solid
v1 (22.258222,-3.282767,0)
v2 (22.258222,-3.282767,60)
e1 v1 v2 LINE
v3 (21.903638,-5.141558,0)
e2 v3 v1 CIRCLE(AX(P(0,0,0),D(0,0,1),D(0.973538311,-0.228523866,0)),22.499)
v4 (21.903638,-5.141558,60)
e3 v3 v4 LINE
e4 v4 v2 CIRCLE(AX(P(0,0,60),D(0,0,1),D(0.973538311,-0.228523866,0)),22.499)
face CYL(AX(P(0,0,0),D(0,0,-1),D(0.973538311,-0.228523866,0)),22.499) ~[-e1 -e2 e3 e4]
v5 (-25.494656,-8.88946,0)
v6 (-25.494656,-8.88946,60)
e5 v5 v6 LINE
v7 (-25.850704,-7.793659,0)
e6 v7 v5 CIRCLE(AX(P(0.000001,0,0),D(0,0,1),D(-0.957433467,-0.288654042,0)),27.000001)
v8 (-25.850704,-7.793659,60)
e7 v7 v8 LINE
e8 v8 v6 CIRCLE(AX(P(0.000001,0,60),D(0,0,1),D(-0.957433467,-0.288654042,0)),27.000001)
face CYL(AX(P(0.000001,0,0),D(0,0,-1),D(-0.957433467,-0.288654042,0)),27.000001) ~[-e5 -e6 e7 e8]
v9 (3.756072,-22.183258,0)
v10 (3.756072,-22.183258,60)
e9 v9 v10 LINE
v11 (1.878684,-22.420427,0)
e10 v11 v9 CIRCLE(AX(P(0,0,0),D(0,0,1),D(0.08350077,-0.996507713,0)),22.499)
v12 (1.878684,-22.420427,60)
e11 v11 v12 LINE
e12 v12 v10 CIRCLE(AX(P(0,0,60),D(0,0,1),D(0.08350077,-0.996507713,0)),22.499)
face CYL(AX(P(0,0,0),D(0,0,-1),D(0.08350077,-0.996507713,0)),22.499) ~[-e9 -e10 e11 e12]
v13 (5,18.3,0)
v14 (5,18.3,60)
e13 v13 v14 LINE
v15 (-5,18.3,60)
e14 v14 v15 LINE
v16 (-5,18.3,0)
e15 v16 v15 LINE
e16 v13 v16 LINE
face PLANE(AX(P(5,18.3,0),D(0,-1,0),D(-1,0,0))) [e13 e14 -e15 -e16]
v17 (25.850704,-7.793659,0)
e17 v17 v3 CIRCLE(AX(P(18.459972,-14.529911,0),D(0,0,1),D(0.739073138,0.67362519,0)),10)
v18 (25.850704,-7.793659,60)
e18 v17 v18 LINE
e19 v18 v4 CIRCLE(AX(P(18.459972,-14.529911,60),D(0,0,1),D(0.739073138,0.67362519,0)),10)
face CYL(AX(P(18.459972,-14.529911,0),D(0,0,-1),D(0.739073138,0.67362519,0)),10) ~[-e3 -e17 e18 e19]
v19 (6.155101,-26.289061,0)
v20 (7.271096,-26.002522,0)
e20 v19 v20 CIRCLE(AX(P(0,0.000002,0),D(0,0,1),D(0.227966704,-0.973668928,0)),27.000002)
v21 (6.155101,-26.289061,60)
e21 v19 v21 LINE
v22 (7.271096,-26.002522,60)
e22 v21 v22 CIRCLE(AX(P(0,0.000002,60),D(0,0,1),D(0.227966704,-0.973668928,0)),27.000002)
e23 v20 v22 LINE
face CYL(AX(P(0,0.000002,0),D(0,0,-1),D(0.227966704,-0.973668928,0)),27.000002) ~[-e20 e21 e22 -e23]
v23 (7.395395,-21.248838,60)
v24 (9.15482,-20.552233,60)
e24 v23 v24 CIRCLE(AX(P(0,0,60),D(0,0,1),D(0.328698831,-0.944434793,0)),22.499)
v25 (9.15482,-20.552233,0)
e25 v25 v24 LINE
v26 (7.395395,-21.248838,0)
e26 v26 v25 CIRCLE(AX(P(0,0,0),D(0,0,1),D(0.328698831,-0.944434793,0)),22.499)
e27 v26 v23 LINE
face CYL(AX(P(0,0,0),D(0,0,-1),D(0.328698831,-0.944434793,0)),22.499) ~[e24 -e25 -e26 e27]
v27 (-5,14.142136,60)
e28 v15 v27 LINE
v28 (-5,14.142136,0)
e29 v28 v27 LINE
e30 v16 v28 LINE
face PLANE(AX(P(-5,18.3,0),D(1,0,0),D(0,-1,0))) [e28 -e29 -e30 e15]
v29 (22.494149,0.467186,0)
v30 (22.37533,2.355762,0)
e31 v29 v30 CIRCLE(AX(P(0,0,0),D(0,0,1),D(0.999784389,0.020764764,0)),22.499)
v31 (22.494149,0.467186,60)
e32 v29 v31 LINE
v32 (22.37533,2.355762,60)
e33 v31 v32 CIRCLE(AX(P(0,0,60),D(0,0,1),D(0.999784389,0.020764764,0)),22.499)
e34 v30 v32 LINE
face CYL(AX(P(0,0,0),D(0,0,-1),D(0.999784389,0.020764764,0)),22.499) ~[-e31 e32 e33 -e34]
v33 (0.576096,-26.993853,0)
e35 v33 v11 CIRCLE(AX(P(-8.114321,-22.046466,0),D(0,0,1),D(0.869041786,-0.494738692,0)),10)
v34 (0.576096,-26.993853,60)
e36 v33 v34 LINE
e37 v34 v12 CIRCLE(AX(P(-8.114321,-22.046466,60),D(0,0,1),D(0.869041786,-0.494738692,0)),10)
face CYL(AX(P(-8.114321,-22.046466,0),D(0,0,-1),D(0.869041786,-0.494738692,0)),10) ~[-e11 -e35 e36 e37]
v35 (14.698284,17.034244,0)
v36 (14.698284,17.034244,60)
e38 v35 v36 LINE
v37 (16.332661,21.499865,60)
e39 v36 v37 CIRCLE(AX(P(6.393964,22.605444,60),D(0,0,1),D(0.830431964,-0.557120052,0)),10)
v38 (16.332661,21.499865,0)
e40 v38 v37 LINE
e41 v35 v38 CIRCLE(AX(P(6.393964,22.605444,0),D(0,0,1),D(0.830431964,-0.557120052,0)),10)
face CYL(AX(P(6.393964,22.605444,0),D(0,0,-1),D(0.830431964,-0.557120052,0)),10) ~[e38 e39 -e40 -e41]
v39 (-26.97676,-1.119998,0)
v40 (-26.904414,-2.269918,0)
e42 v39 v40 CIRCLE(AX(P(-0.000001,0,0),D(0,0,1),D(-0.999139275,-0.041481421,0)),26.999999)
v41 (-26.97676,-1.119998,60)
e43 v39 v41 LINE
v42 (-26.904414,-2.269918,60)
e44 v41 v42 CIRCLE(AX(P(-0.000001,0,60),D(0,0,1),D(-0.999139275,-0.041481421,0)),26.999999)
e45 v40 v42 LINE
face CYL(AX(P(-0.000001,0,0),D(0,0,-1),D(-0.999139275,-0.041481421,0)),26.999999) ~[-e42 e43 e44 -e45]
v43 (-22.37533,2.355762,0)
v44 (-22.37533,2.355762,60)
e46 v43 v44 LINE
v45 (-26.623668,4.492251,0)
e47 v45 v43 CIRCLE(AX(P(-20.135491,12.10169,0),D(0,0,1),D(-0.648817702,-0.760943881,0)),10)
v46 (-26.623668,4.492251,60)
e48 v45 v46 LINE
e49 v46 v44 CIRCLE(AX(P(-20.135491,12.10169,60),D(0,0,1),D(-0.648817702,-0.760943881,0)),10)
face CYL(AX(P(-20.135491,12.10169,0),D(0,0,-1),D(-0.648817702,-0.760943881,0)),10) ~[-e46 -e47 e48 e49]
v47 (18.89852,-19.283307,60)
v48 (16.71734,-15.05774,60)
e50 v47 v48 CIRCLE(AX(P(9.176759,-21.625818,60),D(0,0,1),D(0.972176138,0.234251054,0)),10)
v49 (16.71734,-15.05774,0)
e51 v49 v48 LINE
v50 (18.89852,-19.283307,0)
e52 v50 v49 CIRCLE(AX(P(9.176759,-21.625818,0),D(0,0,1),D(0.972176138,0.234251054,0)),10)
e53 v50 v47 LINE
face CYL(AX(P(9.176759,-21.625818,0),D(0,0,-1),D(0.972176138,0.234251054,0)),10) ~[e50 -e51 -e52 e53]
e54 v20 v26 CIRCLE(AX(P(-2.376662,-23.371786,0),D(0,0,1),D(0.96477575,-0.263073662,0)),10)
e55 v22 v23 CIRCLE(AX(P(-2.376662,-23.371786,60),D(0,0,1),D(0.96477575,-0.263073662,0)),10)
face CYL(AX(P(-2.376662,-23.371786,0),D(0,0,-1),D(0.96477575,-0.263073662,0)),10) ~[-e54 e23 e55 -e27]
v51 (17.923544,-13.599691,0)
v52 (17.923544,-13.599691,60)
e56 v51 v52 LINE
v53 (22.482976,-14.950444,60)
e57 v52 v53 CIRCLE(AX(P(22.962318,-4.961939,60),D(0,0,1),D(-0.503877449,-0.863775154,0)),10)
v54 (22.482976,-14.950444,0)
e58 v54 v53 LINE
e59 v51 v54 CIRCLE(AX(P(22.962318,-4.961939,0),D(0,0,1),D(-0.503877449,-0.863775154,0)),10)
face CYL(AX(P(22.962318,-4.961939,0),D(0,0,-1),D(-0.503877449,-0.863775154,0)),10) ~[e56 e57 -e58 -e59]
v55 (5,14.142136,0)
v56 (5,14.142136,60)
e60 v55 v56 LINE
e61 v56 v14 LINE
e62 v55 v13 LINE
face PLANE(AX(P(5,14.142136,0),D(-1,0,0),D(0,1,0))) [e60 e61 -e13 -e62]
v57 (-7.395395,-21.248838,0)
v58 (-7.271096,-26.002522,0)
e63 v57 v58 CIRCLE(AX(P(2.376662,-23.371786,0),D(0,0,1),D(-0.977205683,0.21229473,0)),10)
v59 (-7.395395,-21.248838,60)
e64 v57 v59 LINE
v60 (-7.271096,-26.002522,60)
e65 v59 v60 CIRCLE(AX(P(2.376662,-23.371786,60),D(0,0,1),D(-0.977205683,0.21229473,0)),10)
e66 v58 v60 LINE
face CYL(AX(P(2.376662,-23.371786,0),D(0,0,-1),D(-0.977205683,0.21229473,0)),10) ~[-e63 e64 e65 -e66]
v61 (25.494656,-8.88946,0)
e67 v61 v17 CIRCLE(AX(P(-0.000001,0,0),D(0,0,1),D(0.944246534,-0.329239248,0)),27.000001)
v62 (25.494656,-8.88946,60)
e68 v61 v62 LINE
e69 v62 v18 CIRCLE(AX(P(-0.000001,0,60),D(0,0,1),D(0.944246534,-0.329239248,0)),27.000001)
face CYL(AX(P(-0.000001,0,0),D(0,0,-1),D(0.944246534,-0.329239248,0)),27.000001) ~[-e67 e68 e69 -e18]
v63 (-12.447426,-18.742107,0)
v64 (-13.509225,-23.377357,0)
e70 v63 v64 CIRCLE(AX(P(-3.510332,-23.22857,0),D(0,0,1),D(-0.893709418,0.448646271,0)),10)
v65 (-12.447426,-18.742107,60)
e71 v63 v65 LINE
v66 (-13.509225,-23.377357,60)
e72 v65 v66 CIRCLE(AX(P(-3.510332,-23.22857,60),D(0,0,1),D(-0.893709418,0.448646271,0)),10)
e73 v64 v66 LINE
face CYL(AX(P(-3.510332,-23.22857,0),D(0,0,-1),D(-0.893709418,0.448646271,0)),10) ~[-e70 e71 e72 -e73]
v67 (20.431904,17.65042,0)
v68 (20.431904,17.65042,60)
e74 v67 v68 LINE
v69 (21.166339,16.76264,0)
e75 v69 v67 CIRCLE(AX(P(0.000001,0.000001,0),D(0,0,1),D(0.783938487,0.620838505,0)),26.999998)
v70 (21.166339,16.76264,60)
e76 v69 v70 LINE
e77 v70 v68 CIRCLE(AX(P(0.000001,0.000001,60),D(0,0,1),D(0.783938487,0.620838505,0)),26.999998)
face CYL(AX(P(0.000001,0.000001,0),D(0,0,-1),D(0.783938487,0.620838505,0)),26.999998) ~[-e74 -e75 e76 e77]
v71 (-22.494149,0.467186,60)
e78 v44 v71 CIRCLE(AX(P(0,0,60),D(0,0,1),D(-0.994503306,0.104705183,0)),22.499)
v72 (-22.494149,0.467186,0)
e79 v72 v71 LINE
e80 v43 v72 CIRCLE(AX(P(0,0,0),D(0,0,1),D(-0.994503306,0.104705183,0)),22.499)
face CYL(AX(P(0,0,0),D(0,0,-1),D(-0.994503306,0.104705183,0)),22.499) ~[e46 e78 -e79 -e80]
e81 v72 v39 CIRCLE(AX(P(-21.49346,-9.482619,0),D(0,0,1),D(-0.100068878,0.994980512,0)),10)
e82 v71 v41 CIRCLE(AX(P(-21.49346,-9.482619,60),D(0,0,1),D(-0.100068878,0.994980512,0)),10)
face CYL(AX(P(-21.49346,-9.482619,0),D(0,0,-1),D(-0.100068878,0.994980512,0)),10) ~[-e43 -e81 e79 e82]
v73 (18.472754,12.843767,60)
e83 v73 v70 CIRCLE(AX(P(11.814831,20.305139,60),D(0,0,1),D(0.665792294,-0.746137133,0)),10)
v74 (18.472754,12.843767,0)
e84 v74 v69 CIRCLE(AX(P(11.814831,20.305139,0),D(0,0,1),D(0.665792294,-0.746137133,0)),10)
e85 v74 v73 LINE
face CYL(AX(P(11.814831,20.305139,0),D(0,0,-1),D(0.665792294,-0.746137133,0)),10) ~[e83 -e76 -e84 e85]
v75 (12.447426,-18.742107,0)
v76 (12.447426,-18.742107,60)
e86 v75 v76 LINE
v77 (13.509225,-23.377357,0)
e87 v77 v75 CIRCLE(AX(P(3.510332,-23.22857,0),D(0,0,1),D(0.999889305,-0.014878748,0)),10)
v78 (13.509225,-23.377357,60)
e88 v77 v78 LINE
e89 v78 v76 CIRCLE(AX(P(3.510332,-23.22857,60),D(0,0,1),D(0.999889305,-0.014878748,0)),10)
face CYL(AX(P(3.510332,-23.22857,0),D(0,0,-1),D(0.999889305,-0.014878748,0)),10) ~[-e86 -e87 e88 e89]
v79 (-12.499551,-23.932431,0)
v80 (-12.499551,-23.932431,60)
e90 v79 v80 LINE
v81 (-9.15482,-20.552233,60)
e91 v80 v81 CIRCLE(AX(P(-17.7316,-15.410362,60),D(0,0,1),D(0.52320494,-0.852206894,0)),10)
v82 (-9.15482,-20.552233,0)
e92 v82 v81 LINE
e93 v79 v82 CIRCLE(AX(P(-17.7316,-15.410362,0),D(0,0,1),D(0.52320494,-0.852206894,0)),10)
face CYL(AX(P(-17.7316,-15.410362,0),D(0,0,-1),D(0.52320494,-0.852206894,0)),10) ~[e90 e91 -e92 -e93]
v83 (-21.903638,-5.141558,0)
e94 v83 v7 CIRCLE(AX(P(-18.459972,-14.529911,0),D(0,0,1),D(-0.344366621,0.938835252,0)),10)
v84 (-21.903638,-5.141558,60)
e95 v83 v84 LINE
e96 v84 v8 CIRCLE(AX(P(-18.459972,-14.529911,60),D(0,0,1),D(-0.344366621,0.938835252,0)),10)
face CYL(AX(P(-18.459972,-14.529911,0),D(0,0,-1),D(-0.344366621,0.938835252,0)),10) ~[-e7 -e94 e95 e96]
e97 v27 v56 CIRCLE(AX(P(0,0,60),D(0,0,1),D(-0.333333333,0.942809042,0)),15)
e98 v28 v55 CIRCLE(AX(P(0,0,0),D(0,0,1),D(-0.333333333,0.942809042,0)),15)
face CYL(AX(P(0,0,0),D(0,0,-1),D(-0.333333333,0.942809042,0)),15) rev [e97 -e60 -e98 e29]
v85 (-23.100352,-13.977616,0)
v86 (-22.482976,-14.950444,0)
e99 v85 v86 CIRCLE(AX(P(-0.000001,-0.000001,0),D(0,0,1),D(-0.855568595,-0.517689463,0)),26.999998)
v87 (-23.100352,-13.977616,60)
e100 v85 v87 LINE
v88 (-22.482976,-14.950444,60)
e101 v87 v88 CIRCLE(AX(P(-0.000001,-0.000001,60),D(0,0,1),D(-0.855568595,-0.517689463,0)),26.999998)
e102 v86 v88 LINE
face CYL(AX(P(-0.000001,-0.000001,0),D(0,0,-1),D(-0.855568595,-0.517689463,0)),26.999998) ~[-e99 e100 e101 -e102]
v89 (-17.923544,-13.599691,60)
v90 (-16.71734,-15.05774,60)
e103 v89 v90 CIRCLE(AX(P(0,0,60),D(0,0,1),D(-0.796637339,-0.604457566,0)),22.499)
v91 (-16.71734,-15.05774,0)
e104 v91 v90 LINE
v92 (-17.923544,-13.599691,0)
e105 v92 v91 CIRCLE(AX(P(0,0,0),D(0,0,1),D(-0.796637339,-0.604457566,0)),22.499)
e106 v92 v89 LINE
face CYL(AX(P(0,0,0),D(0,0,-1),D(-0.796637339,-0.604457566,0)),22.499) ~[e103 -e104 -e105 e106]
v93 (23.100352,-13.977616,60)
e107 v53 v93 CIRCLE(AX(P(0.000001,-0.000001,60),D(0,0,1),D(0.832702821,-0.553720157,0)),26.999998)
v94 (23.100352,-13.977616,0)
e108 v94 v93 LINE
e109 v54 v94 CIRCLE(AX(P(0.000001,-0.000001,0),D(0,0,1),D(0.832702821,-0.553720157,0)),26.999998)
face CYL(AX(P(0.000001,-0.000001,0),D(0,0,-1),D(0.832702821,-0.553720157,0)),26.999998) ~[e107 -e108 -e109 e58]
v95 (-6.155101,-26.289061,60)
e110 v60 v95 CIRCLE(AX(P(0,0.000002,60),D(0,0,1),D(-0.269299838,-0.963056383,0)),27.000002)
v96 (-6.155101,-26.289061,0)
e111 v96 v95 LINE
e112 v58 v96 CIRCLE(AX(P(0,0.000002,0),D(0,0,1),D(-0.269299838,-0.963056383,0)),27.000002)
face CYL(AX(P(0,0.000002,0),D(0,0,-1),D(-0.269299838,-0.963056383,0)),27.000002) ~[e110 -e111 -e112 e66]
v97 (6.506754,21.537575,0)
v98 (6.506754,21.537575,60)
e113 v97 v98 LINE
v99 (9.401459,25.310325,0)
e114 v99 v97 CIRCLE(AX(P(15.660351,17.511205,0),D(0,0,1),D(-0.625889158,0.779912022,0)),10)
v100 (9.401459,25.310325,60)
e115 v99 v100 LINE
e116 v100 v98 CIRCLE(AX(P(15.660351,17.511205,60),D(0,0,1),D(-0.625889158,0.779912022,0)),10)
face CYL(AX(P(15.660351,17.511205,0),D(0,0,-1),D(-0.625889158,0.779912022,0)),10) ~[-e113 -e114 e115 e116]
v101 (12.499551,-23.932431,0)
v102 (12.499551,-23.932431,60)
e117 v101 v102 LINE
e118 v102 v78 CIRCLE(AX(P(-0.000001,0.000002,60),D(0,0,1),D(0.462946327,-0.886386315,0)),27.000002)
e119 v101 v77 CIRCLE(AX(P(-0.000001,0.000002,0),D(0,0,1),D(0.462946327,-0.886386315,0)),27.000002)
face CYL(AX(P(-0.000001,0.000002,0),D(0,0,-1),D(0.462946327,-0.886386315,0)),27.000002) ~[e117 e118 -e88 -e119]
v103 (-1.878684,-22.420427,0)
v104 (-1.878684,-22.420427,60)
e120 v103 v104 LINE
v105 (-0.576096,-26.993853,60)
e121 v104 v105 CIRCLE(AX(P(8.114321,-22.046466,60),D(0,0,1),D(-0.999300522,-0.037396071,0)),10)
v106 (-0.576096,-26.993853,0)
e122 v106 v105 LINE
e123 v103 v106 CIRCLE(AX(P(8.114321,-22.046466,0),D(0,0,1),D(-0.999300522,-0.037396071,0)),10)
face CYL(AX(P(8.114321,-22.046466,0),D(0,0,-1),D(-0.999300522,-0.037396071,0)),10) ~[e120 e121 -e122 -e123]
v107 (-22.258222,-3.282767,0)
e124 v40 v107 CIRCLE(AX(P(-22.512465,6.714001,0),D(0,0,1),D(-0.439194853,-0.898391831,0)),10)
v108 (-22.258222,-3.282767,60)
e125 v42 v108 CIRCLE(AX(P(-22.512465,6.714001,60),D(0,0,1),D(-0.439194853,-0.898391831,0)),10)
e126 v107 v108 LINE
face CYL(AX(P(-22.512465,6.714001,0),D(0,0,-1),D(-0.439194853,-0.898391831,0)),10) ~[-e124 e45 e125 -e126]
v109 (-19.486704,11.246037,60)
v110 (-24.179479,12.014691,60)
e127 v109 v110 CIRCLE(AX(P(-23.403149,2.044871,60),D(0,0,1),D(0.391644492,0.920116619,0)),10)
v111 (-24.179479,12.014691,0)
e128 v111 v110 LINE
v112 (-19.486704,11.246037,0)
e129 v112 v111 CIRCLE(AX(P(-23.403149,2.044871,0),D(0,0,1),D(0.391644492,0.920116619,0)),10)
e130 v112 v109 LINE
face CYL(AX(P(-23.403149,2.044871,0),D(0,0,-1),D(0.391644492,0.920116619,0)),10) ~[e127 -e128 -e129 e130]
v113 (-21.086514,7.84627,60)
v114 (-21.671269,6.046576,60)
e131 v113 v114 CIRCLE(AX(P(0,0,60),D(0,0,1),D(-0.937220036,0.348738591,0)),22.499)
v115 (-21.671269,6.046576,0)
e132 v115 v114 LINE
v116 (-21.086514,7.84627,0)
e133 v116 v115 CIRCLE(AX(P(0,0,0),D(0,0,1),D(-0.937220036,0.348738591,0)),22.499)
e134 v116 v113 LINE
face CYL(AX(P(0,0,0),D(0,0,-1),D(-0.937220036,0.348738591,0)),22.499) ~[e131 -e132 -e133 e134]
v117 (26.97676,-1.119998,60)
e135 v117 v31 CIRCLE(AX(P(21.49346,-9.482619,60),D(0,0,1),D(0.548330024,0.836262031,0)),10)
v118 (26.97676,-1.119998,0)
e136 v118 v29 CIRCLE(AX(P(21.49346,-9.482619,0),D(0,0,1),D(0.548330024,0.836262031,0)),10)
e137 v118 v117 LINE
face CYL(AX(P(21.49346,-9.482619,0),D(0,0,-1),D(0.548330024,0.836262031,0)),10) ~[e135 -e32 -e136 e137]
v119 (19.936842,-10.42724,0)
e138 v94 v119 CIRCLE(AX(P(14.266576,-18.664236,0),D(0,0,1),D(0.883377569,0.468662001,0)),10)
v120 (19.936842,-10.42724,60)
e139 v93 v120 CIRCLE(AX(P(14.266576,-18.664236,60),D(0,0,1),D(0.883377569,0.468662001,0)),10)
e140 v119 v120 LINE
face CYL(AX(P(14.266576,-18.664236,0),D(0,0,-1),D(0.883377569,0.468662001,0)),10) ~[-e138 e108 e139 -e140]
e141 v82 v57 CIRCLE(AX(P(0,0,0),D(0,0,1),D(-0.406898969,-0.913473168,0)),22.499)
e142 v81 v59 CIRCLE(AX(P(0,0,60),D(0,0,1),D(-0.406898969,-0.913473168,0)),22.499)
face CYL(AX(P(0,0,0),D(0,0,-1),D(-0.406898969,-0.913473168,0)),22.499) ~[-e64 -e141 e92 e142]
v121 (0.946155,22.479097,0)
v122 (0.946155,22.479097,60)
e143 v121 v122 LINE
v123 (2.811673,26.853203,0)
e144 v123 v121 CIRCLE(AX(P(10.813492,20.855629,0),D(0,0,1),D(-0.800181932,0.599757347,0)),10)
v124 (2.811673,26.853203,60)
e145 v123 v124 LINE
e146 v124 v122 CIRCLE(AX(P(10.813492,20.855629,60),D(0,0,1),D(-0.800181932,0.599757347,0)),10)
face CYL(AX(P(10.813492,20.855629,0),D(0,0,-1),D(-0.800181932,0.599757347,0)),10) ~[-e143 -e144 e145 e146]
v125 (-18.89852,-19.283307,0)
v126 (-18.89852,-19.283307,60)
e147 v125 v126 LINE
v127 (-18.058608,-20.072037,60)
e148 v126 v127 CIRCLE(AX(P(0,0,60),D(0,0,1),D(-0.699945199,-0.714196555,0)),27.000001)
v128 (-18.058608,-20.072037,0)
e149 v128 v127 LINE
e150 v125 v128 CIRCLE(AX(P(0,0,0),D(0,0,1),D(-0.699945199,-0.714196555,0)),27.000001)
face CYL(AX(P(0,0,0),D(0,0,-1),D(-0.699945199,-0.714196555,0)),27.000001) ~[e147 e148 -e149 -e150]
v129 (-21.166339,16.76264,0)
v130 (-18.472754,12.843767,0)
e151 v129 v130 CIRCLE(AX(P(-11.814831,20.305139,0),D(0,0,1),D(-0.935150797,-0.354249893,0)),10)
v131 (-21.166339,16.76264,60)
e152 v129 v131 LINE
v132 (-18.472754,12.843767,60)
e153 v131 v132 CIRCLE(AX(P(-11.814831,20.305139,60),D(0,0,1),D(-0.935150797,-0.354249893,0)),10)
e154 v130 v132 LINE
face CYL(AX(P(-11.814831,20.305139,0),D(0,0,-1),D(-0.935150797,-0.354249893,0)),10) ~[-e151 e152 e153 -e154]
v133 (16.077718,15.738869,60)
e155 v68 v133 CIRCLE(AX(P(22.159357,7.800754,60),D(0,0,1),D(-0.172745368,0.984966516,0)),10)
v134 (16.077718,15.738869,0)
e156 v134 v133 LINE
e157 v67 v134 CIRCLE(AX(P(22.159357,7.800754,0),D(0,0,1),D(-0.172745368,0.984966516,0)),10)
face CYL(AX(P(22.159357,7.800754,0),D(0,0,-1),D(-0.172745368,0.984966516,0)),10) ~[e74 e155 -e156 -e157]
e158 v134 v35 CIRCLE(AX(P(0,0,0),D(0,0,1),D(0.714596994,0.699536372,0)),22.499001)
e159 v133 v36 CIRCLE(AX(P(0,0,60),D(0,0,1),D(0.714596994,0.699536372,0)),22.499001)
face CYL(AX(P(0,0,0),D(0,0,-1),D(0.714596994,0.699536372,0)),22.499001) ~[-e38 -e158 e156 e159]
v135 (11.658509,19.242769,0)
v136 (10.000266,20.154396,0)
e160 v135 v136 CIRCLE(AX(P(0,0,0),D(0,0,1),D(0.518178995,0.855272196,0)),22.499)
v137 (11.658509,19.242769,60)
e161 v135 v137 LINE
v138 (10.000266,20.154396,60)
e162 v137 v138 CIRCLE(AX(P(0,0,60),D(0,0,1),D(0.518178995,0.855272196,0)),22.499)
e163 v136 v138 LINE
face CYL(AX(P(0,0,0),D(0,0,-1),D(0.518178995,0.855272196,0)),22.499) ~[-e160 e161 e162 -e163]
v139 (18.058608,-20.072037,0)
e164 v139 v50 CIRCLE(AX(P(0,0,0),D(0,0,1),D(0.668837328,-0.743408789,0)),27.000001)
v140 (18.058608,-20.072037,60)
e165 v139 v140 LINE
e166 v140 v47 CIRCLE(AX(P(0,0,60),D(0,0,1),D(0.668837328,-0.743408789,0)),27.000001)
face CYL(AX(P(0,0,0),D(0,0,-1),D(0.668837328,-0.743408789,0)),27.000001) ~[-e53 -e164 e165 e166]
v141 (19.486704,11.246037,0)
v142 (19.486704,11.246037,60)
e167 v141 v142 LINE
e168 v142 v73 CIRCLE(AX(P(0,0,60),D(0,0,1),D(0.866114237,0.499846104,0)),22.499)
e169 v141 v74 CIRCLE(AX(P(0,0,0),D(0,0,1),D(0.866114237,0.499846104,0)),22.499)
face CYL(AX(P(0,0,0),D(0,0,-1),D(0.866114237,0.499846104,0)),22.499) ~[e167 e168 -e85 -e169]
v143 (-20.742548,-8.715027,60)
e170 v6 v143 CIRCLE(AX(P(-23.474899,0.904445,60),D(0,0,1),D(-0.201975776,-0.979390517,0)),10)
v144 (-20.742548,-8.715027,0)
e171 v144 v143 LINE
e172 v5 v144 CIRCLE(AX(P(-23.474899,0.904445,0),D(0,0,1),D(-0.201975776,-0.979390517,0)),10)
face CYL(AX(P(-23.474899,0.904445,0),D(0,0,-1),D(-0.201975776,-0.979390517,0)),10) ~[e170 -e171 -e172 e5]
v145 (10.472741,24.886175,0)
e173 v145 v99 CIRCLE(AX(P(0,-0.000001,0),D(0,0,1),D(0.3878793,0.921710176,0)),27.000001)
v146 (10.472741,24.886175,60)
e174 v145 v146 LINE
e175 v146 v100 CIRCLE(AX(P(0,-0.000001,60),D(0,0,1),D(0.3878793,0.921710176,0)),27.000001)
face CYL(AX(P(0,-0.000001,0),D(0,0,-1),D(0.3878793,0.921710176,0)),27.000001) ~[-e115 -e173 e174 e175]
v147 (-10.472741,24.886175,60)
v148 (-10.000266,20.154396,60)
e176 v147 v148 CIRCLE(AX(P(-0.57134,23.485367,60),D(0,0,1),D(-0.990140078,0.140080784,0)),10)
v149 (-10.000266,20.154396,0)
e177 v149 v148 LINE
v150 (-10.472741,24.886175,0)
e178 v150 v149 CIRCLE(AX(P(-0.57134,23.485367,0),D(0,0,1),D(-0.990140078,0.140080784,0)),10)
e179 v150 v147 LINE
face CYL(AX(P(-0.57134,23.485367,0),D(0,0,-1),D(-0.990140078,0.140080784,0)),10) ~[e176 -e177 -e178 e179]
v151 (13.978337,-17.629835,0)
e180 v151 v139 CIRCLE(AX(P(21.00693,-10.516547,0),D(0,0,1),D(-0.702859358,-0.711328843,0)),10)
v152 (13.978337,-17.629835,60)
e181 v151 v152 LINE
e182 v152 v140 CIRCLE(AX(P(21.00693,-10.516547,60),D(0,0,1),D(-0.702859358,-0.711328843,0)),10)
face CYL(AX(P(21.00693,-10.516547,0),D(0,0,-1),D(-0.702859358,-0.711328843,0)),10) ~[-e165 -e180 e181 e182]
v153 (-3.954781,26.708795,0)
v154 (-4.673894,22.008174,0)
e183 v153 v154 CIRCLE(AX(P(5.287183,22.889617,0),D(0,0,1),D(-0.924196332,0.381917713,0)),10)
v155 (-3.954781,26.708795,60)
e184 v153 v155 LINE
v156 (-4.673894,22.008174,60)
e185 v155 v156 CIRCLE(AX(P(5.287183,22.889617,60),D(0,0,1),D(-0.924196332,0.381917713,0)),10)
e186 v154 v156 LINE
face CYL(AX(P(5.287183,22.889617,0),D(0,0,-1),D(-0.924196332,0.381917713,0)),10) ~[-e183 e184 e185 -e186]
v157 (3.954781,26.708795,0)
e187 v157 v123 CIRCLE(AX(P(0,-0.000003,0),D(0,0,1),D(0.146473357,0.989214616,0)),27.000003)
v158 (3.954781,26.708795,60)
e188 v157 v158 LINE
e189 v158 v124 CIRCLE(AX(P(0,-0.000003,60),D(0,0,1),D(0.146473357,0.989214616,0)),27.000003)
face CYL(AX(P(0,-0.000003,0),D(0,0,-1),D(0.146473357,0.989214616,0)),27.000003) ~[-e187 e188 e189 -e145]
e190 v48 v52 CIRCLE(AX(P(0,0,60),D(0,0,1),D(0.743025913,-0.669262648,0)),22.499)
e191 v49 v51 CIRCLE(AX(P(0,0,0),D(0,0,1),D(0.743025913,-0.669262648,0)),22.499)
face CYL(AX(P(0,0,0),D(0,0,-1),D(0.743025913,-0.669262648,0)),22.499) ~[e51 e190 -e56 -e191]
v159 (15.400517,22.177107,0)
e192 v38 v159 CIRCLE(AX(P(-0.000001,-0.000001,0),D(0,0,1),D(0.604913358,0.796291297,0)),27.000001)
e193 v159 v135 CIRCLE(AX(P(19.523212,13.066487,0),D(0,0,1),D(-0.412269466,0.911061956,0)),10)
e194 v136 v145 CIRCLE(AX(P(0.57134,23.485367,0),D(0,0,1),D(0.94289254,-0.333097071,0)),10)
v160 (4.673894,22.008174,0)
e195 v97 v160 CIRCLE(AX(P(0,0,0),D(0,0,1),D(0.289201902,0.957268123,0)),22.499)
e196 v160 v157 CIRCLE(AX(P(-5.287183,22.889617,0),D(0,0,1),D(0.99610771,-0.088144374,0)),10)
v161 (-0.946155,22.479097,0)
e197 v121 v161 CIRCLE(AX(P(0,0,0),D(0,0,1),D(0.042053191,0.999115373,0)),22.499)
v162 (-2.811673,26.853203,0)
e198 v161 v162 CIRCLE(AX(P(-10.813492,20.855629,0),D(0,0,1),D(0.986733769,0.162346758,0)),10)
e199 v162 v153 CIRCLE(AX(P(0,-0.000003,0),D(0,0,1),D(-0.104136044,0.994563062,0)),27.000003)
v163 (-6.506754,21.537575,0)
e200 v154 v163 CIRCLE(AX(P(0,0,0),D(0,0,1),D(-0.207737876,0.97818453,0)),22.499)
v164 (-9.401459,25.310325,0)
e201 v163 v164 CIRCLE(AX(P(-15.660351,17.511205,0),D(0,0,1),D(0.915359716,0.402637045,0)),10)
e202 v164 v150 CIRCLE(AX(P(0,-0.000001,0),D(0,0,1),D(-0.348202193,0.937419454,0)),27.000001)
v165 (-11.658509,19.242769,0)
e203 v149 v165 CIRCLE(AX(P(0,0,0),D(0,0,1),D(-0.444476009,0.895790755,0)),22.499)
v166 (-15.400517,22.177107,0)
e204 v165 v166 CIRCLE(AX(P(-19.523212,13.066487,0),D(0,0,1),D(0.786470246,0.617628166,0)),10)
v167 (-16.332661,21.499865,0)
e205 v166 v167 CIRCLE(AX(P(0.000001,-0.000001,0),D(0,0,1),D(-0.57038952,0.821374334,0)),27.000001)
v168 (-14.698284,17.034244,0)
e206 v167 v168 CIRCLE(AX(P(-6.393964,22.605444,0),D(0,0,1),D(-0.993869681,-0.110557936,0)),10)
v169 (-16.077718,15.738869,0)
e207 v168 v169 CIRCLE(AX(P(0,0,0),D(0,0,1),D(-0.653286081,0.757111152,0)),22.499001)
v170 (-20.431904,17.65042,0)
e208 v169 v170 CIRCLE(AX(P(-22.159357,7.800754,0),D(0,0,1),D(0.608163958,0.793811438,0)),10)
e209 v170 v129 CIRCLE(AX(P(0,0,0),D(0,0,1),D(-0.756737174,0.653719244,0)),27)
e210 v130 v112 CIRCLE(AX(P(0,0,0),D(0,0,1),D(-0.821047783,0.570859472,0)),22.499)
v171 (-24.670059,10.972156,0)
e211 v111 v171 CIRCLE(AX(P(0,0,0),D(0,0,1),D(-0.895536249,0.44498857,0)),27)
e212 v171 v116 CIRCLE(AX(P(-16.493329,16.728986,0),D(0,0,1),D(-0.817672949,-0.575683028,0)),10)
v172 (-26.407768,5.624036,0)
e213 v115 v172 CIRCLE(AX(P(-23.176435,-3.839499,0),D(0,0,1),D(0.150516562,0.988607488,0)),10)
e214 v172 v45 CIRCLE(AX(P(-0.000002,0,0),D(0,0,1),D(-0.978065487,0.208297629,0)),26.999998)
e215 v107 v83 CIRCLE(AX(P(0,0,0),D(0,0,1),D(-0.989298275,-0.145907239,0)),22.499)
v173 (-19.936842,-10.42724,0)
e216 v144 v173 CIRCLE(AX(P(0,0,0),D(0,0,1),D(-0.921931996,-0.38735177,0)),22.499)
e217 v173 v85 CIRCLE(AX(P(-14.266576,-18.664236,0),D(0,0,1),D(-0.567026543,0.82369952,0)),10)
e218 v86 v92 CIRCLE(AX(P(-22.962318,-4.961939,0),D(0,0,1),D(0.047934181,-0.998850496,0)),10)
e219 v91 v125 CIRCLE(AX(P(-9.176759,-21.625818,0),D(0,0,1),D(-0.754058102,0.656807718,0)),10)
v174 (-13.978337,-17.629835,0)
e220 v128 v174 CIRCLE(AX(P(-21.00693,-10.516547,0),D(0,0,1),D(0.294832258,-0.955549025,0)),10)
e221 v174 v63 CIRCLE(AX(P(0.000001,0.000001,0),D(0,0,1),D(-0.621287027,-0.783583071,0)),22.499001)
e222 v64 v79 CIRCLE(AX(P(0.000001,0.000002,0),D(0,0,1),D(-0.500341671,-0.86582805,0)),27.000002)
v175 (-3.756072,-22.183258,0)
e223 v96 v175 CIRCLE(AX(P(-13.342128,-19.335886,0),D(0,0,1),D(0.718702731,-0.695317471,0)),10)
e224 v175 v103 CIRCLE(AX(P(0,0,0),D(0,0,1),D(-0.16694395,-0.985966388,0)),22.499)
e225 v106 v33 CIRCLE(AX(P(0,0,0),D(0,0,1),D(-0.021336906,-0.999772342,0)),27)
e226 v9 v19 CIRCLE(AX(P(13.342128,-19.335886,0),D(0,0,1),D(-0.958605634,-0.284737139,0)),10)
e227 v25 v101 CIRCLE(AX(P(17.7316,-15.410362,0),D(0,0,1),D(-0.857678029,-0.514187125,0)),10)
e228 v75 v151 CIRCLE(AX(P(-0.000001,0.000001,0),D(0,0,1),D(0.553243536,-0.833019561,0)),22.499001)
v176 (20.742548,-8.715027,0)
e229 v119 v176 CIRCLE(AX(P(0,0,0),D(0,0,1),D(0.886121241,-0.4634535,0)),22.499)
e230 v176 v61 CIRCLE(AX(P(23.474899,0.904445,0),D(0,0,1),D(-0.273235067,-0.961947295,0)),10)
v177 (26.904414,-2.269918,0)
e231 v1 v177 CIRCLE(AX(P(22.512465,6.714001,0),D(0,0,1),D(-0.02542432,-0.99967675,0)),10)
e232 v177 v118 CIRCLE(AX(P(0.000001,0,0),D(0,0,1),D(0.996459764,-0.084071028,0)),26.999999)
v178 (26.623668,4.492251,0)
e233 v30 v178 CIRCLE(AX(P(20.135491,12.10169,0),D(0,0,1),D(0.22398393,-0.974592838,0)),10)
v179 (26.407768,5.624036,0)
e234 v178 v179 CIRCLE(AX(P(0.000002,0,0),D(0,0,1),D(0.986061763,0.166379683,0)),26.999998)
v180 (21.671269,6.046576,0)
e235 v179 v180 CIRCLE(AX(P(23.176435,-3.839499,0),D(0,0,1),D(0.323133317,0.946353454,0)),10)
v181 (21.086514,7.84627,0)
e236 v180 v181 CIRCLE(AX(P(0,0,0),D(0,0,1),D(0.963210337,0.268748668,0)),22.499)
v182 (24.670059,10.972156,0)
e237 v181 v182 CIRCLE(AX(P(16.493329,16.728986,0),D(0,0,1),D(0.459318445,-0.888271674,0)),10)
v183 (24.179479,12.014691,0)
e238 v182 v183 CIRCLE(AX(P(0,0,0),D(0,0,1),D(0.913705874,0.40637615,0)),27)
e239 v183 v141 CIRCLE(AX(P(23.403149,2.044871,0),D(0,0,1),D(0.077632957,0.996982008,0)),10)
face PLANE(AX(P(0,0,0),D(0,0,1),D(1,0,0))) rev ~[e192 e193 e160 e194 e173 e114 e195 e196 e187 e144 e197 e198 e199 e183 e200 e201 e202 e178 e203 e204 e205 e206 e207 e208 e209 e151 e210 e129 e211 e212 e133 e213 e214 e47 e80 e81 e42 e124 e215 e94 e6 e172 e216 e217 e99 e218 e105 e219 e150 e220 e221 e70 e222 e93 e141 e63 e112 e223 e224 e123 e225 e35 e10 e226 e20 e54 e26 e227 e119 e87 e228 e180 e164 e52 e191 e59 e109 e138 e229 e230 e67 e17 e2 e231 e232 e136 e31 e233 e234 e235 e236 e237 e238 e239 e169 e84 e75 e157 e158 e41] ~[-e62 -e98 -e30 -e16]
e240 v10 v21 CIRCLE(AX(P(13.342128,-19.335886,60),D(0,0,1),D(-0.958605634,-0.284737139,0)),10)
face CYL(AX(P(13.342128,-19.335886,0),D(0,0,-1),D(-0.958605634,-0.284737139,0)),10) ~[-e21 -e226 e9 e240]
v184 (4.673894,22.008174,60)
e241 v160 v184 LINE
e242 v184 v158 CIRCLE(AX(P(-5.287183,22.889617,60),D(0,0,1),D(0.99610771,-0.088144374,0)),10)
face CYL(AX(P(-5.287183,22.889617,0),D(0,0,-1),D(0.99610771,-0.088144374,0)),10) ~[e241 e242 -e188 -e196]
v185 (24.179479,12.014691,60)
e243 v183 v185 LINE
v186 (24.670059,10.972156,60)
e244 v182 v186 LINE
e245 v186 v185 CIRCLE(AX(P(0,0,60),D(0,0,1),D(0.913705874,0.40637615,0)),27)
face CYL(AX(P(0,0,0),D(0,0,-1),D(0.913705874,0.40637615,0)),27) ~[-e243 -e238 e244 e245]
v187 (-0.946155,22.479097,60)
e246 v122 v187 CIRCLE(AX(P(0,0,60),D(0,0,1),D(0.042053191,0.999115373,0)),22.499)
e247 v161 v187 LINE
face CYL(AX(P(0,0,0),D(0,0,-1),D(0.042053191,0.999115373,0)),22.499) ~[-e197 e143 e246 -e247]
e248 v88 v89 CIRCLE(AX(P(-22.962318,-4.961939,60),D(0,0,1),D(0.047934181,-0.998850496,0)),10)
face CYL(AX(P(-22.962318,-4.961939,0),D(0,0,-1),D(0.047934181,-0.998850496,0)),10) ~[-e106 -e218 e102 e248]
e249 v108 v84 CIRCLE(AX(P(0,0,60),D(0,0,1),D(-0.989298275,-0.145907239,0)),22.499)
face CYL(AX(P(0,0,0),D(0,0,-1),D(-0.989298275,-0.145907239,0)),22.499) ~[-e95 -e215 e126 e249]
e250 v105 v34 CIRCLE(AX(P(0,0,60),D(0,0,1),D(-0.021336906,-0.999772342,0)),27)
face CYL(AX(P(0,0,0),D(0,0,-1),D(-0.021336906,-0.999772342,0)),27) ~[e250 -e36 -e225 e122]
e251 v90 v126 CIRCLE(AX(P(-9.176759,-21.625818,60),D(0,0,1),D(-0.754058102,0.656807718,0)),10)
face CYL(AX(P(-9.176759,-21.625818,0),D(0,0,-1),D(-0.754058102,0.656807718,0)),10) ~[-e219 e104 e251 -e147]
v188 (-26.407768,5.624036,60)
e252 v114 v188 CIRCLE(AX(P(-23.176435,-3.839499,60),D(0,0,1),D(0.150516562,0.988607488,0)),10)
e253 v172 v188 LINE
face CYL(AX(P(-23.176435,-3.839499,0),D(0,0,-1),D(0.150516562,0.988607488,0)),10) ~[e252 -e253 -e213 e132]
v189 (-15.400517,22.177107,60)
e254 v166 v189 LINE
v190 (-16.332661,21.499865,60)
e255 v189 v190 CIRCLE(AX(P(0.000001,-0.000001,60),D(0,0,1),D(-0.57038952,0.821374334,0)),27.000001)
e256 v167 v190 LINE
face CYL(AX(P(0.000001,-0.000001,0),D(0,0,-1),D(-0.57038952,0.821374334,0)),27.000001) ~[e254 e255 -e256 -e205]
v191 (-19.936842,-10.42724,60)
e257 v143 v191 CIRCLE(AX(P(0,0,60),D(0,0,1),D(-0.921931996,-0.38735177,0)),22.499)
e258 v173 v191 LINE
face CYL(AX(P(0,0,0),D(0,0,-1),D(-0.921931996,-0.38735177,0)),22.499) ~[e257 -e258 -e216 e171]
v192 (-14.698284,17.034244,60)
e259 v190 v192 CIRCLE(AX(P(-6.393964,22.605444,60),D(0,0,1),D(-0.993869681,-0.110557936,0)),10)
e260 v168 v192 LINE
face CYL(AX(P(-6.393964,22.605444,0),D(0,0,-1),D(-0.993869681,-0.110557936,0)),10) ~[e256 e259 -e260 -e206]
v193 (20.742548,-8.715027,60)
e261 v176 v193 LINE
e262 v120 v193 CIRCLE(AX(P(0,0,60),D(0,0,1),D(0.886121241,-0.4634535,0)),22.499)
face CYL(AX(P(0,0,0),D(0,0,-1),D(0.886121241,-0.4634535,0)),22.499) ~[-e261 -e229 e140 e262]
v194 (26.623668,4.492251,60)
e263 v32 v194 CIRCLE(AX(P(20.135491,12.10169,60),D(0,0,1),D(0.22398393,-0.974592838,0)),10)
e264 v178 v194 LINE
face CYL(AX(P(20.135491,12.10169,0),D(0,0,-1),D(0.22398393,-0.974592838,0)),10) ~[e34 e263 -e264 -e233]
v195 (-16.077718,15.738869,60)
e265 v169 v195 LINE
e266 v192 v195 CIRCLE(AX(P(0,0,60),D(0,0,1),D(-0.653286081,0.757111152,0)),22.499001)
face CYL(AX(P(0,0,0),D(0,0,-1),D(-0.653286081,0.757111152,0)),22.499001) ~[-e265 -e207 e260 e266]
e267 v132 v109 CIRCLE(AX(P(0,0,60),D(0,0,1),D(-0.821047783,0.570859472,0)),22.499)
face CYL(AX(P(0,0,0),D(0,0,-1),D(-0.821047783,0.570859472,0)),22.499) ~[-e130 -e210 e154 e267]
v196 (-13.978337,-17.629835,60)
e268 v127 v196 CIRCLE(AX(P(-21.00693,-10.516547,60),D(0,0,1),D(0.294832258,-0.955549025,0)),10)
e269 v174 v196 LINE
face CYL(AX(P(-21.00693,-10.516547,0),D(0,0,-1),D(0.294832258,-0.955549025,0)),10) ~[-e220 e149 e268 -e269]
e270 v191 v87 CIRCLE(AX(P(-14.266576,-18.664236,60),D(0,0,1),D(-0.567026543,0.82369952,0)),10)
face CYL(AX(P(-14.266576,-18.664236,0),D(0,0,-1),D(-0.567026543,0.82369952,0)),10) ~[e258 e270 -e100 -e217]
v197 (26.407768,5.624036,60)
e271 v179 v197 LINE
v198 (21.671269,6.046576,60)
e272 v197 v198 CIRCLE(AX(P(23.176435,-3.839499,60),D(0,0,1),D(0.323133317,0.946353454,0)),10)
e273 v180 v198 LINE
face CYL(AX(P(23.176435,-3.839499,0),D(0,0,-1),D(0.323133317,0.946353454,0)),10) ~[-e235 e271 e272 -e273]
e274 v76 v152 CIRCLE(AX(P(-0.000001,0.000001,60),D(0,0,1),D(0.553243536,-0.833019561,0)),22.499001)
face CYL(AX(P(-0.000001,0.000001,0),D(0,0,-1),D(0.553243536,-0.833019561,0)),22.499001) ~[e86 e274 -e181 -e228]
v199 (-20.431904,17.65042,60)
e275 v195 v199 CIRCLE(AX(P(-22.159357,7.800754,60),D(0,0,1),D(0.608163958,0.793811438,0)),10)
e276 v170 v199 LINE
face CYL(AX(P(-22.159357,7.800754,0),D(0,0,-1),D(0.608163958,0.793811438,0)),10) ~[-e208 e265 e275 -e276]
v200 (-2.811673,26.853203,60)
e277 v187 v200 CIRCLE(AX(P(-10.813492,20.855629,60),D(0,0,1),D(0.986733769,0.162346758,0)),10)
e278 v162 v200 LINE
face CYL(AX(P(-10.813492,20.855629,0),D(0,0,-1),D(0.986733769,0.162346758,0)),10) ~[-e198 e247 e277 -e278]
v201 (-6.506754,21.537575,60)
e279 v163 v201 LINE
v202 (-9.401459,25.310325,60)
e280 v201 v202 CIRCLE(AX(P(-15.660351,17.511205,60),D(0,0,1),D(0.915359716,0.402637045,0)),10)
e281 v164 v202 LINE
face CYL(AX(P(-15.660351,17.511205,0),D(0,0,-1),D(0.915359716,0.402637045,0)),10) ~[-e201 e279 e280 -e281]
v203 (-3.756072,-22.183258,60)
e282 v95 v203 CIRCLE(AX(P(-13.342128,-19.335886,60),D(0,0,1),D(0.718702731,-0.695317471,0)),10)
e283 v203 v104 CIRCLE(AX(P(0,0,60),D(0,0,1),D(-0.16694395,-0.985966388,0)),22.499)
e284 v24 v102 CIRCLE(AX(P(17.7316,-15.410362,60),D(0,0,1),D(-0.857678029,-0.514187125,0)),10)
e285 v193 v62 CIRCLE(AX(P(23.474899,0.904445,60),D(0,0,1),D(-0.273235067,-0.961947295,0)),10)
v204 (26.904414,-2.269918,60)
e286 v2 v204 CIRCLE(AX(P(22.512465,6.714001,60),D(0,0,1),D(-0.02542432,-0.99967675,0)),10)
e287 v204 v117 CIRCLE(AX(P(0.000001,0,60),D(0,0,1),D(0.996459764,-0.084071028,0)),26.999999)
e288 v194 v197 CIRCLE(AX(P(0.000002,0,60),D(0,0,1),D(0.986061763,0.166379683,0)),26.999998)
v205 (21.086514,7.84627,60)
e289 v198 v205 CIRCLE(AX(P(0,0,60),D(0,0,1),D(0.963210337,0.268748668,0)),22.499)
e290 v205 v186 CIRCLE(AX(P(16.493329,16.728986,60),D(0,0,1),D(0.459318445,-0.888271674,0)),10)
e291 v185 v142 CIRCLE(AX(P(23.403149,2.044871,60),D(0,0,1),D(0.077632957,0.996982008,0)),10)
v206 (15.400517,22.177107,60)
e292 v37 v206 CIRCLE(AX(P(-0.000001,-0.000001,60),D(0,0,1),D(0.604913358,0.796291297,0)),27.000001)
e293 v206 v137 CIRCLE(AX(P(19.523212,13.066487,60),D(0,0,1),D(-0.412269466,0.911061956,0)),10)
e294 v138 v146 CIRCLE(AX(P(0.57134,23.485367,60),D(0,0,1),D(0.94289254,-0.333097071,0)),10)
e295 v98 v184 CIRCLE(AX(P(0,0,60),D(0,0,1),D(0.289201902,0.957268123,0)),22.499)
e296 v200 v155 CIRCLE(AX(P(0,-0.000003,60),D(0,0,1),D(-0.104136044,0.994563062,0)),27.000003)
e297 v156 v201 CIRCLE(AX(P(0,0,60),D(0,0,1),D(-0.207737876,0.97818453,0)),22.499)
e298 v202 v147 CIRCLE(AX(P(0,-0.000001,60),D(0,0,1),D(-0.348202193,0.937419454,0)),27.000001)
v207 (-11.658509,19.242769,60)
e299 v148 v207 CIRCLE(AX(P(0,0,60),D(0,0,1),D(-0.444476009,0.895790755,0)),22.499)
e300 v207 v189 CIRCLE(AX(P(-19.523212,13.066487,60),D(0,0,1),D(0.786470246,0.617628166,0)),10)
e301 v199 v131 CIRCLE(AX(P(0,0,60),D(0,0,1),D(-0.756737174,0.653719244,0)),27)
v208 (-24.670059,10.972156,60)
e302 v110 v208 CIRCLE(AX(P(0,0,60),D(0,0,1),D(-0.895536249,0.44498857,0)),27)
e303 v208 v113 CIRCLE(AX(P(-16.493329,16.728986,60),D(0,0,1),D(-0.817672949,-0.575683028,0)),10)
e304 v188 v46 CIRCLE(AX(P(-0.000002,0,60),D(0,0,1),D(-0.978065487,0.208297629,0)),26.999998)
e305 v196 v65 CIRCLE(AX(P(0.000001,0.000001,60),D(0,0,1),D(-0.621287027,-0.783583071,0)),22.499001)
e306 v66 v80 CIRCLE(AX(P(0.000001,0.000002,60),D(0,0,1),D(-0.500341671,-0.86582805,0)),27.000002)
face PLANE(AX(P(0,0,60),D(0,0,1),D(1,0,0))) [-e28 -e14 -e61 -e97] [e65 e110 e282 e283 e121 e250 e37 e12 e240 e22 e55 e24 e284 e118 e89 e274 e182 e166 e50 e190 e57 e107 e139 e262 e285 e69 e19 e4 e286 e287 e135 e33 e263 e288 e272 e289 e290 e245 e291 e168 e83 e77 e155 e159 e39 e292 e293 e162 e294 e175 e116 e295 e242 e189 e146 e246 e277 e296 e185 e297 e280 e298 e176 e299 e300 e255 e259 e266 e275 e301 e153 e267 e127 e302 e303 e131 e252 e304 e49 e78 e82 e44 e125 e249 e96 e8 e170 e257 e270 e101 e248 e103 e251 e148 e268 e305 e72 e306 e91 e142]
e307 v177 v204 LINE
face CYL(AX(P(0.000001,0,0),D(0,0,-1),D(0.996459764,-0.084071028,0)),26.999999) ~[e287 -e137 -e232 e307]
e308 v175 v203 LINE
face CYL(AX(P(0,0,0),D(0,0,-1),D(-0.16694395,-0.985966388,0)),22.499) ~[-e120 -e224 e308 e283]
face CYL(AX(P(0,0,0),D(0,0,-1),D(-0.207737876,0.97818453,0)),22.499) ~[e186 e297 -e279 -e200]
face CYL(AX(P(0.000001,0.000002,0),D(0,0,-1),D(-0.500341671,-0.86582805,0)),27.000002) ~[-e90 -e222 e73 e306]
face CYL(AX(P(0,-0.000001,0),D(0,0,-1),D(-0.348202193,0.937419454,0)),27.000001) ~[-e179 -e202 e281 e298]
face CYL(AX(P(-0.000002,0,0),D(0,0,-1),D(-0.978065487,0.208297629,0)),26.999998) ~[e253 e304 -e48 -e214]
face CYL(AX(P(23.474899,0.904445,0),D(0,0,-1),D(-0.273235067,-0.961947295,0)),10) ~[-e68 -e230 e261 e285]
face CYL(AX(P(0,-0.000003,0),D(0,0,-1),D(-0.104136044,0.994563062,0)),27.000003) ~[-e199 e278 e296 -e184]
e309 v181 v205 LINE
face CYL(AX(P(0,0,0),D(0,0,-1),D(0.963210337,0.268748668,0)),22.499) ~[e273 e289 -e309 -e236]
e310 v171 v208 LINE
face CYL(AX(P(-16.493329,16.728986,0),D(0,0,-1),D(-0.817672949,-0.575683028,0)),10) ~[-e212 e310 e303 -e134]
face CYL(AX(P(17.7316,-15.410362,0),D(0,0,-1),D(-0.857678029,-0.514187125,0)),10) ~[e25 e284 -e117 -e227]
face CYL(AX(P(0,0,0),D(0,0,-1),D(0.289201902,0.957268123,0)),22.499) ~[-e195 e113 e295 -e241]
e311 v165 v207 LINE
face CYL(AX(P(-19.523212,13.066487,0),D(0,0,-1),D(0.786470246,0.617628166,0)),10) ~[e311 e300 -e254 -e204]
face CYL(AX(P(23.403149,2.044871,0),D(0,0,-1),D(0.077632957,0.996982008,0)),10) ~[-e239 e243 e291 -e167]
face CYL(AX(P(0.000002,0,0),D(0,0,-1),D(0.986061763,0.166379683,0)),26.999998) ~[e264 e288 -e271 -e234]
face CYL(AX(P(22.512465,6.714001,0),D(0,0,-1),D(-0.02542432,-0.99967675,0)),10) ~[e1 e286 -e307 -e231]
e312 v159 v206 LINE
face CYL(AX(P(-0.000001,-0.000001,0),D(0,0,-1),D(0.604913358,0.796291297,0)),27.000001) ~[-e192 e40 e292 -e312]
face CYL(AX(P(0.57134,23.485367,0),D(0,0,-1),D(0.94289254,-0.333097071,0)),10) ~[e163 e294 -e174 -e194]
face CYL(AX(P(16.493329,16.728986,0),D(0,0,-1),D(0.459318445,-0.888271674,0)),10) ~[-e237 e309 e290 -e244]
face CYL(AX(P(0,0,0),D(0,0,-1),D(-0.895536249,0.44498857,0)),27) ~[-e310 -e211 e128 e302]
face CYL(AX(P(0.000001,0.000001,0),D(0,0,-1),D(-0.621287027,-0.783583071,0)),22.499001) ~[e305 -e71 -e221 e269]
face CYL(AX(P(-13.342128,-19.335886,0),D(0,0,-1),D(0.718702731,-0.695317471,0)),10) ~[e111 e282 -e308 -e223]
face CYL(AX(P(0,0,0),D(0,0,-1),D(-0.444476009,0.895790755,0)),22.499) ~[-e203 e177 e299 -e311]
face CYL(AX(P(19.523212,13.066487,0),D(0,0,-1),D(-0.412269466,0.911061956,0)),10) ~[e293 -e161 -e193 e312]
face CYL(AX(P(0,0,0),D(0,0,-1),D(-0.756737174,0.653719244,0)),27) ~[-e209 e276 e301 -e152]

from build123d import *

# Parameters (mm, degrees)
EXTRUDE_1_DEPTH = 60


with BuildPart() as part:
    # Model → 凸台-拉伸1 (new body)
    with BuildSketch(Plane.XY):
        with BuildLine():
            ThreePointArc((-26.623667603, 4.492251481), (-24.628342026, 3.167806143), (-22.375329871, 2.355761908))
            ThreePointArc((-22.375329871, 2.355761908), (-22.454603363, 1.412723899), (-22.494148969, 0.467186424))
            ThreePointArc((-22.494148969, 0.467186424), (-24.83117158, -0.056077302), (-26.976760436, -1.119998387))
            ThreePointArc((-26.976760436, -1.119998387), (-26.946721668, -1.695344027), (-26.904413642, -2.269917752))
            ThreePointArc((-26.904413642, -2.269917752), (-24.642398725, -3.056535912), (-22.258221901, -3.282766946))
            ThreePointArc((-22.258221901, -3.282766946), (-22.100480854, -4.215892197), (-21.903638454, -5.141558466))
            ThreePointArc((-21.903638454, -5.141558466), (-24.037108806, -6.229576789), (-25.850703628, -7.793659087))
            ThreePointArc((-25.850703628, -7.793659087), (-25.67852594, -8.343458848), (-25.494656424, -8.889459704))
            ThreePointArc((-25.494656424, -8.889459704), (-23.108082884, -9.088824574), (-20.742547988, -8.715027478))
            ThreePointArc((-20.742547988, -8.715027478), (-20.357703853, -9.579608281), (-19.93684178, -10.427240328))
            ThreePointArc((-19.93684178, -10.427240328), (-21.732706083, -12.011649055), (-23.100352038, -13.977615523))
            ThreePointArc((-23.100352038, -13.977615523), (-22.796853989, -14.467323464), (-22.48297618, -14.95044421))
            ThreePointArc((-22.48297618, -14.95044421), (-20.12180121, -14.550028962), (-17.9235435, -13.599690783))
            ThreePointArc((-17.9235435, -13.599690783), (-17.335777449, -14.341402345), (-16.717340013, -15.057740331))
            ThreePointArc((-16.717340013, -15.057740331), (-18.06275751, -17.038985236), (-18.898520373, -19.28330697))
            ThreePointArc((-18.898520373, -19.28330697), (-18.48277186, -19.68215294), (-18.058607856, -20.072037323))
            ThreePointArc((-18.058607856, -20.072037323), (-15.871192762, -19.097001519), (-13.978336856, -17.6298355))
            ThreePointArc((-13.978336856, -17.6298355), (-13.224580391, -18.202073356), (-12.447426292, -18.742107131))
            ThreePointArc((-12.447426292, -18.742107131), (-13.257859452, -20.995699309), (-13.509225169, -23.377357322))
            ThreePointArc((-13.509225169, -23.377357322), (-13.007349201, -23.660280361), (-12.499550786, -23.932430511))
            ThreePointArc((-12.499550786, -23.932430511), (-10.623338904, -22.444039237), (-9.154819898, -20.552232814))
            ThreePointArc((-9.154819898, -20.552232814), (-8.282434311, -20.919041156), (-7.395394998, -21.248838411))
            ThreePointArc((-7.395394998, -21.248838411), (-7.619921326, -23.633176378), (-7.271095664, -26.002522336))
            ThreePointArc((-7.271095664, -26.002522336), (-6.714626953, -26.15174535), (-6.15510097, -26.289061072))
            ThreePointArc((-6.15510097, -26.289061072), (-4.707981592, -24.380835426), (-3.756071937, -22.183257755))
            ThreePointArc((-3.756071937, -22.183257755), (-2.819872422, -22.321588665), (-1.878683838, -22.420427026))
            ThreePointArc((-1.878683838, -22.420427026), (-1.503195518, -24.785694058), (-0.576096477, -26.993853242))
            ThreePointArc((-0.576096477, -26.993853242), (0, -27), (0.576096477, -26.993853242))
            ThreePointArc((0.576096477, -26.993853242), (1.503195518, -24.785694058), (1.878683838, -22.420427026))
            ThreePointArc((1.878683838, -22.420427026), (2.819872422, -22.321588665), (3.756071937, -22.183257755))
            ThreePointArc((3.756071937, -22.183257755), (4.707981592, -24.380835426), (6.15510097, -26.289061072))
            ThreePointArc((6.15510097, -26.289061072), (6.714626953, -26.15174535), (7.271095664, -26.002522336))
            ThreePointArc((7.271095664, -26.002522336), (7.619921325, -23.633176378), (7.395394998, -21.248838411))
            ThreePointArc((7.395394998, -21.248838411), (8.282434311, -20.919041156), (9.154819898, -20.552232814))
            ThreePointArc((9.154819898, -20.552232814), (10.623338904, -22.444039237), (12.499550786, -23.932430511))
            ThreePointArc((12.499550786, -23.932430511), (13.007349201, -23.660280361), (13.509225169, -23.377357322))
            ThreePointArc((13.509225169, -23.377357322), (13.257859452, -20.995699309), (12.447426292, -18.742107131))
            ThreePointArc((12.447426292, -18.742107131), (13.224580391, -18.202073356), (13.978336856, -17.6298355))
            ThreePointArc((13.978336856, -17.6298355), (15.871192762, -19.097001519), (18.058607856, -20.072037323))
            ThreePointArc((18.058607856, -20.072037323), (18.48277186, -19.68215294), (18.898520373, -19.28330697))
            ThreePointArc((18.898520373, -19.28330697), (18.06275751, -17.038985236), (16.717340013, -15.057740331))
            ThreePointArc((16.717340013, -15.057740331), (17.335777449, -14.341402345), (17.9235435, -13.599690783))
            ThreePointArc((17.9235435, -13.599690783), (20.12180121, -14.550028962), (22.48297618, -14.95044421))
            ThreePointArc((22.48297618, -14.95044421), (22.796853989, -14.467323464), (23.100352038, -13.977615523))
            ThreePointArc((23.100352038, -13.977615523), (21.732706083, -12.011649055), (19.93684178, -10.427240328))
            ThreePointArc((19.93684178, -10.427240328), (20.357703853, -9.579608281), (20.742547988, -8.715027478))
            ThreePointArc((20.742547988, -8.715027478), (23.108082884, -9.088824574), (25.494656424, -8.889459704))
            ThreePointArc((25.494656424, -8.889459704), (25.67852594, -8.343458848), (25.850703628, -7.793659087))
            ThreePointArc((25.850703628, -7.793659087), (24.037108806, -6.229576789), (21.903638454, -5.141558466))
            ThreePointArc((21.903638454, -5.141558466), (22.100480854, -4.215892197), (22.258221901, -3.282766946))
            ThreePointArc((22.258221901, -3.282766946), (24.642398725, -3.056535912), (26.904413642, -2.269917752))
            ThreePointArc((26.904413642, -2.269917752), (26.946721668, -1.695344027), (26.976760436, -1.119998387))
            ThreePointArc((26.976760436, -1.119998387), (24.83117158, -0.056077302), (22.494148969, 0.467186424))
            ThreePointArc((22.494148969, 0.467186424), (22.454603363, 1.412723899), (22.375329871, 2.355761907))
            ThreePointArc((22.375329871, 2.355761907), (24.628342026, 3.167806143), (26.623667603, 4.492251481))
            ThreePointArc((26.623667603, 4.492251481), (26.52175577, 5.059295494), (26.407768172, 5.624035931))
            ThreePointArc((26.407768172, 5.624035931), (24.065000522, 6.120945728), (21.671269376, 6.046576272))
            ThreePointArc((21.671269376, 6.046576272), (21.39782056, 6.952573356), (21.086513575, 7.846269576))
            ThreePointArc((21.086513575, 7.846269576), (23.066796021, 9.193103287), (24.670058614, 10.972156033))
            ThreePointArc((24.670058614, 10.972156033), (24.430330417, 11.496040872), (24.179478714, 12.014691387))
            ThreePointArc((24.179478714, 12.014691387), (21.786736975, 11.913367227), (19.486704228, 11.246037495))
            ThreePointArc((19.486704228, 11.246037495), (18.996533996, 12.05556706), (18.47275408, 12.843767271))
            ThreePointArc((18.47275408, 12.843767271), (20.055878388, 14.640763942), (21.166339111, 16.762639667))
            ThreePointArc((21.166339111, 16.762639667), (20.803857555, 17.210447723), (20.431903681, 17.650419597))
            ThreePointArc((20.431903681, 17.650419597), (18.139532619, 16.957228049), (16.077717785, 15.738868823))
            ThreePointArc((16.077717785, 15.738868823), (15.401625336, 16.401065148), (14.698283508, 17.034243832))
            ThreePointArc((14.698283508, 17.034243832), (15.784776155, 19.168491554), (16.332660679, 21.499865003))
            ThreePointArc((16.332660679, 21.499865003), (15.870201812, 21.843458848), (15.400516998, 22.17710703))
            ThreePointArc((15.400516998, 22.17710703), (13.352554715, 20.935603868), (11.658509204, 19.242769139))
            ThreePointArc((11.658509204, 19.242769139), (10.838975914, 19.716023994), (10.000265727, 20.154396205))
            ThreePointArc((10.000265727, 20.154396205), (10.521858385, 22.491792344), (10.472741108, 24.88617475))
            ThreePointArc((10.472741108, 24.88617475), (9.939362922, 25.103965119), (9.401459192, 25.310325266))
            ThreePointArc((9.401459192, 25.310325266), (7.726586692, 23.5985187), (6.506753613, 21.5375755))
            ThreePointArc((6.506753613, 21.5375755), (5.595273771, 21.792152542), (4.673894472, 22.008173742))
            ThreePointArc((4.673894472, 22.008173742), (4.597813555, 24.401851103), (3.954780698, 26.708794612))
            ThreePointArc((3.954780698, 26.708794612), (3.383997306, 26.787096935), (2.811673129, 26.853202681))
            ThreePointArc((2.811673129, 26.853202681), (1.61512881, 24.778651813), (0.946154762, 22.479096783))
            ThreePointArc((0.946154762, 22.479096783), (0, 22.499), (-0.946154762, 22.479096783))
            ThreePointArc((-0.946154762, 22.479096783), (-1.61512881, 24.778651813), (-2.811673129, 26.853202681))
            ThreePointArc((-2.811673129, 26.853202681), (-3.383997306, 26.787096935), (-3.954780698, 26.708794612))
            ThreePointArc((-3.954780698, 26.708794612), (-4.597813555, 24.401851103), (-4.673894472, 22.008173742))
            ThreePointArc((-4.673894472, 22.008173742), (-5.595273771, 21.792152542), (-6.506753613, 21.5375755))
            ThreePointArc((-6.506753613, 21.5375755), (-7.726586692, 23.5985187), (-9.401459192, 25.310325266))
            ThreePointArc((-9.401459192, 25.310325266), (-9.939362922, 25.103965119), (-10.472741108, 24.88617475))
            ThreePointArc((-10.472741108, 24.88617475), (-10.521858385, 22.491792344), (-10.000265727, 20.154396205))
            ThreePointArc((-10.000265727, 20.154396205), (-10.838975914, 19.716023994), (-11.658509204, 19.242769139))
            ThreePointArc((-11.658509204, 19.242769139), (-13.352554715, 20.935603868), (-15.400516998, 22.17710703))
            ThreePointArc((-15.400516998, 22.17710703), (-15.870201812, 21.843458848), (-16.332660679, 21.499865003))
            ThreePointArc((-16.332660679, 21.499865003), (-15.784776155, 19.168491554), (-14.698283508, 17.034243832))
            ThreePointArc((-14.698283508, 17.034243832), (-15.401625336, 16.401065148), (-16.077717785, 15.738868823))
            ThreePointArc((-16.077717785, 15.738868823), (-18.139532619, 16.957228049), (-20.431903682, 17.650419597))
            ThreePointArc((-20.431903682, 17.650419597), (-20.803857555, 17.210447723), (-21.166339111, 16.762639667))
            ThreePointArc((-21.166339111, 16.762639667), (-20.055878388, 14.640763942), (-18.47275408, 12.843767271))
            ThreePointArc((-18.47275408, 12.843767271), (-18.996533996, 12.05556706), (-19.486704227, 11.246037495))
            ThreePointArc((-19.486704227, 11.246037495), (-21.786736975, 11.913367227), (-24.179478714, 12.014691387))
            ThreePointArc((-24.179478714, 12.014691387), (-24.430330417, 11.496040872), (-24.670058614, 10.972156033))
            ThreePointArc((-24.670058614, 10.972156033), (-23.066796021, 9.193103287), (-21.086513575, 7.846269576))
            ThreePointArc((-21.086513575, 7.846269576), (-21.39782056, 6.952573356), (-21.671269376, 6.046576272))
            ThreePointArc((-21.671269376, 6.046576272), (-24.065000522, 6.120945728), (-26.407768172, 5.624035931))
            ThreePointArc((-26.407768172, 5.624035931), (-26.52175577, 5.059295494), (-26.623667603, 4.492251481))
        make_face()
        with BuildLine():
            Line((5, 14.142135624), (5, 18.3))
            Line((5, 18.3), (-5, 18.3))
            Line((-5, 18.3), (-5, 14.142135624))
            ThreePointArc((-5, 14.142135624), (0, -15), (5, 14.142135624))
        make_face(mode=Mode.SUBTRACT)
    extrude(amount=EXTRUDE_1_DEPTH)


solid = part.part
